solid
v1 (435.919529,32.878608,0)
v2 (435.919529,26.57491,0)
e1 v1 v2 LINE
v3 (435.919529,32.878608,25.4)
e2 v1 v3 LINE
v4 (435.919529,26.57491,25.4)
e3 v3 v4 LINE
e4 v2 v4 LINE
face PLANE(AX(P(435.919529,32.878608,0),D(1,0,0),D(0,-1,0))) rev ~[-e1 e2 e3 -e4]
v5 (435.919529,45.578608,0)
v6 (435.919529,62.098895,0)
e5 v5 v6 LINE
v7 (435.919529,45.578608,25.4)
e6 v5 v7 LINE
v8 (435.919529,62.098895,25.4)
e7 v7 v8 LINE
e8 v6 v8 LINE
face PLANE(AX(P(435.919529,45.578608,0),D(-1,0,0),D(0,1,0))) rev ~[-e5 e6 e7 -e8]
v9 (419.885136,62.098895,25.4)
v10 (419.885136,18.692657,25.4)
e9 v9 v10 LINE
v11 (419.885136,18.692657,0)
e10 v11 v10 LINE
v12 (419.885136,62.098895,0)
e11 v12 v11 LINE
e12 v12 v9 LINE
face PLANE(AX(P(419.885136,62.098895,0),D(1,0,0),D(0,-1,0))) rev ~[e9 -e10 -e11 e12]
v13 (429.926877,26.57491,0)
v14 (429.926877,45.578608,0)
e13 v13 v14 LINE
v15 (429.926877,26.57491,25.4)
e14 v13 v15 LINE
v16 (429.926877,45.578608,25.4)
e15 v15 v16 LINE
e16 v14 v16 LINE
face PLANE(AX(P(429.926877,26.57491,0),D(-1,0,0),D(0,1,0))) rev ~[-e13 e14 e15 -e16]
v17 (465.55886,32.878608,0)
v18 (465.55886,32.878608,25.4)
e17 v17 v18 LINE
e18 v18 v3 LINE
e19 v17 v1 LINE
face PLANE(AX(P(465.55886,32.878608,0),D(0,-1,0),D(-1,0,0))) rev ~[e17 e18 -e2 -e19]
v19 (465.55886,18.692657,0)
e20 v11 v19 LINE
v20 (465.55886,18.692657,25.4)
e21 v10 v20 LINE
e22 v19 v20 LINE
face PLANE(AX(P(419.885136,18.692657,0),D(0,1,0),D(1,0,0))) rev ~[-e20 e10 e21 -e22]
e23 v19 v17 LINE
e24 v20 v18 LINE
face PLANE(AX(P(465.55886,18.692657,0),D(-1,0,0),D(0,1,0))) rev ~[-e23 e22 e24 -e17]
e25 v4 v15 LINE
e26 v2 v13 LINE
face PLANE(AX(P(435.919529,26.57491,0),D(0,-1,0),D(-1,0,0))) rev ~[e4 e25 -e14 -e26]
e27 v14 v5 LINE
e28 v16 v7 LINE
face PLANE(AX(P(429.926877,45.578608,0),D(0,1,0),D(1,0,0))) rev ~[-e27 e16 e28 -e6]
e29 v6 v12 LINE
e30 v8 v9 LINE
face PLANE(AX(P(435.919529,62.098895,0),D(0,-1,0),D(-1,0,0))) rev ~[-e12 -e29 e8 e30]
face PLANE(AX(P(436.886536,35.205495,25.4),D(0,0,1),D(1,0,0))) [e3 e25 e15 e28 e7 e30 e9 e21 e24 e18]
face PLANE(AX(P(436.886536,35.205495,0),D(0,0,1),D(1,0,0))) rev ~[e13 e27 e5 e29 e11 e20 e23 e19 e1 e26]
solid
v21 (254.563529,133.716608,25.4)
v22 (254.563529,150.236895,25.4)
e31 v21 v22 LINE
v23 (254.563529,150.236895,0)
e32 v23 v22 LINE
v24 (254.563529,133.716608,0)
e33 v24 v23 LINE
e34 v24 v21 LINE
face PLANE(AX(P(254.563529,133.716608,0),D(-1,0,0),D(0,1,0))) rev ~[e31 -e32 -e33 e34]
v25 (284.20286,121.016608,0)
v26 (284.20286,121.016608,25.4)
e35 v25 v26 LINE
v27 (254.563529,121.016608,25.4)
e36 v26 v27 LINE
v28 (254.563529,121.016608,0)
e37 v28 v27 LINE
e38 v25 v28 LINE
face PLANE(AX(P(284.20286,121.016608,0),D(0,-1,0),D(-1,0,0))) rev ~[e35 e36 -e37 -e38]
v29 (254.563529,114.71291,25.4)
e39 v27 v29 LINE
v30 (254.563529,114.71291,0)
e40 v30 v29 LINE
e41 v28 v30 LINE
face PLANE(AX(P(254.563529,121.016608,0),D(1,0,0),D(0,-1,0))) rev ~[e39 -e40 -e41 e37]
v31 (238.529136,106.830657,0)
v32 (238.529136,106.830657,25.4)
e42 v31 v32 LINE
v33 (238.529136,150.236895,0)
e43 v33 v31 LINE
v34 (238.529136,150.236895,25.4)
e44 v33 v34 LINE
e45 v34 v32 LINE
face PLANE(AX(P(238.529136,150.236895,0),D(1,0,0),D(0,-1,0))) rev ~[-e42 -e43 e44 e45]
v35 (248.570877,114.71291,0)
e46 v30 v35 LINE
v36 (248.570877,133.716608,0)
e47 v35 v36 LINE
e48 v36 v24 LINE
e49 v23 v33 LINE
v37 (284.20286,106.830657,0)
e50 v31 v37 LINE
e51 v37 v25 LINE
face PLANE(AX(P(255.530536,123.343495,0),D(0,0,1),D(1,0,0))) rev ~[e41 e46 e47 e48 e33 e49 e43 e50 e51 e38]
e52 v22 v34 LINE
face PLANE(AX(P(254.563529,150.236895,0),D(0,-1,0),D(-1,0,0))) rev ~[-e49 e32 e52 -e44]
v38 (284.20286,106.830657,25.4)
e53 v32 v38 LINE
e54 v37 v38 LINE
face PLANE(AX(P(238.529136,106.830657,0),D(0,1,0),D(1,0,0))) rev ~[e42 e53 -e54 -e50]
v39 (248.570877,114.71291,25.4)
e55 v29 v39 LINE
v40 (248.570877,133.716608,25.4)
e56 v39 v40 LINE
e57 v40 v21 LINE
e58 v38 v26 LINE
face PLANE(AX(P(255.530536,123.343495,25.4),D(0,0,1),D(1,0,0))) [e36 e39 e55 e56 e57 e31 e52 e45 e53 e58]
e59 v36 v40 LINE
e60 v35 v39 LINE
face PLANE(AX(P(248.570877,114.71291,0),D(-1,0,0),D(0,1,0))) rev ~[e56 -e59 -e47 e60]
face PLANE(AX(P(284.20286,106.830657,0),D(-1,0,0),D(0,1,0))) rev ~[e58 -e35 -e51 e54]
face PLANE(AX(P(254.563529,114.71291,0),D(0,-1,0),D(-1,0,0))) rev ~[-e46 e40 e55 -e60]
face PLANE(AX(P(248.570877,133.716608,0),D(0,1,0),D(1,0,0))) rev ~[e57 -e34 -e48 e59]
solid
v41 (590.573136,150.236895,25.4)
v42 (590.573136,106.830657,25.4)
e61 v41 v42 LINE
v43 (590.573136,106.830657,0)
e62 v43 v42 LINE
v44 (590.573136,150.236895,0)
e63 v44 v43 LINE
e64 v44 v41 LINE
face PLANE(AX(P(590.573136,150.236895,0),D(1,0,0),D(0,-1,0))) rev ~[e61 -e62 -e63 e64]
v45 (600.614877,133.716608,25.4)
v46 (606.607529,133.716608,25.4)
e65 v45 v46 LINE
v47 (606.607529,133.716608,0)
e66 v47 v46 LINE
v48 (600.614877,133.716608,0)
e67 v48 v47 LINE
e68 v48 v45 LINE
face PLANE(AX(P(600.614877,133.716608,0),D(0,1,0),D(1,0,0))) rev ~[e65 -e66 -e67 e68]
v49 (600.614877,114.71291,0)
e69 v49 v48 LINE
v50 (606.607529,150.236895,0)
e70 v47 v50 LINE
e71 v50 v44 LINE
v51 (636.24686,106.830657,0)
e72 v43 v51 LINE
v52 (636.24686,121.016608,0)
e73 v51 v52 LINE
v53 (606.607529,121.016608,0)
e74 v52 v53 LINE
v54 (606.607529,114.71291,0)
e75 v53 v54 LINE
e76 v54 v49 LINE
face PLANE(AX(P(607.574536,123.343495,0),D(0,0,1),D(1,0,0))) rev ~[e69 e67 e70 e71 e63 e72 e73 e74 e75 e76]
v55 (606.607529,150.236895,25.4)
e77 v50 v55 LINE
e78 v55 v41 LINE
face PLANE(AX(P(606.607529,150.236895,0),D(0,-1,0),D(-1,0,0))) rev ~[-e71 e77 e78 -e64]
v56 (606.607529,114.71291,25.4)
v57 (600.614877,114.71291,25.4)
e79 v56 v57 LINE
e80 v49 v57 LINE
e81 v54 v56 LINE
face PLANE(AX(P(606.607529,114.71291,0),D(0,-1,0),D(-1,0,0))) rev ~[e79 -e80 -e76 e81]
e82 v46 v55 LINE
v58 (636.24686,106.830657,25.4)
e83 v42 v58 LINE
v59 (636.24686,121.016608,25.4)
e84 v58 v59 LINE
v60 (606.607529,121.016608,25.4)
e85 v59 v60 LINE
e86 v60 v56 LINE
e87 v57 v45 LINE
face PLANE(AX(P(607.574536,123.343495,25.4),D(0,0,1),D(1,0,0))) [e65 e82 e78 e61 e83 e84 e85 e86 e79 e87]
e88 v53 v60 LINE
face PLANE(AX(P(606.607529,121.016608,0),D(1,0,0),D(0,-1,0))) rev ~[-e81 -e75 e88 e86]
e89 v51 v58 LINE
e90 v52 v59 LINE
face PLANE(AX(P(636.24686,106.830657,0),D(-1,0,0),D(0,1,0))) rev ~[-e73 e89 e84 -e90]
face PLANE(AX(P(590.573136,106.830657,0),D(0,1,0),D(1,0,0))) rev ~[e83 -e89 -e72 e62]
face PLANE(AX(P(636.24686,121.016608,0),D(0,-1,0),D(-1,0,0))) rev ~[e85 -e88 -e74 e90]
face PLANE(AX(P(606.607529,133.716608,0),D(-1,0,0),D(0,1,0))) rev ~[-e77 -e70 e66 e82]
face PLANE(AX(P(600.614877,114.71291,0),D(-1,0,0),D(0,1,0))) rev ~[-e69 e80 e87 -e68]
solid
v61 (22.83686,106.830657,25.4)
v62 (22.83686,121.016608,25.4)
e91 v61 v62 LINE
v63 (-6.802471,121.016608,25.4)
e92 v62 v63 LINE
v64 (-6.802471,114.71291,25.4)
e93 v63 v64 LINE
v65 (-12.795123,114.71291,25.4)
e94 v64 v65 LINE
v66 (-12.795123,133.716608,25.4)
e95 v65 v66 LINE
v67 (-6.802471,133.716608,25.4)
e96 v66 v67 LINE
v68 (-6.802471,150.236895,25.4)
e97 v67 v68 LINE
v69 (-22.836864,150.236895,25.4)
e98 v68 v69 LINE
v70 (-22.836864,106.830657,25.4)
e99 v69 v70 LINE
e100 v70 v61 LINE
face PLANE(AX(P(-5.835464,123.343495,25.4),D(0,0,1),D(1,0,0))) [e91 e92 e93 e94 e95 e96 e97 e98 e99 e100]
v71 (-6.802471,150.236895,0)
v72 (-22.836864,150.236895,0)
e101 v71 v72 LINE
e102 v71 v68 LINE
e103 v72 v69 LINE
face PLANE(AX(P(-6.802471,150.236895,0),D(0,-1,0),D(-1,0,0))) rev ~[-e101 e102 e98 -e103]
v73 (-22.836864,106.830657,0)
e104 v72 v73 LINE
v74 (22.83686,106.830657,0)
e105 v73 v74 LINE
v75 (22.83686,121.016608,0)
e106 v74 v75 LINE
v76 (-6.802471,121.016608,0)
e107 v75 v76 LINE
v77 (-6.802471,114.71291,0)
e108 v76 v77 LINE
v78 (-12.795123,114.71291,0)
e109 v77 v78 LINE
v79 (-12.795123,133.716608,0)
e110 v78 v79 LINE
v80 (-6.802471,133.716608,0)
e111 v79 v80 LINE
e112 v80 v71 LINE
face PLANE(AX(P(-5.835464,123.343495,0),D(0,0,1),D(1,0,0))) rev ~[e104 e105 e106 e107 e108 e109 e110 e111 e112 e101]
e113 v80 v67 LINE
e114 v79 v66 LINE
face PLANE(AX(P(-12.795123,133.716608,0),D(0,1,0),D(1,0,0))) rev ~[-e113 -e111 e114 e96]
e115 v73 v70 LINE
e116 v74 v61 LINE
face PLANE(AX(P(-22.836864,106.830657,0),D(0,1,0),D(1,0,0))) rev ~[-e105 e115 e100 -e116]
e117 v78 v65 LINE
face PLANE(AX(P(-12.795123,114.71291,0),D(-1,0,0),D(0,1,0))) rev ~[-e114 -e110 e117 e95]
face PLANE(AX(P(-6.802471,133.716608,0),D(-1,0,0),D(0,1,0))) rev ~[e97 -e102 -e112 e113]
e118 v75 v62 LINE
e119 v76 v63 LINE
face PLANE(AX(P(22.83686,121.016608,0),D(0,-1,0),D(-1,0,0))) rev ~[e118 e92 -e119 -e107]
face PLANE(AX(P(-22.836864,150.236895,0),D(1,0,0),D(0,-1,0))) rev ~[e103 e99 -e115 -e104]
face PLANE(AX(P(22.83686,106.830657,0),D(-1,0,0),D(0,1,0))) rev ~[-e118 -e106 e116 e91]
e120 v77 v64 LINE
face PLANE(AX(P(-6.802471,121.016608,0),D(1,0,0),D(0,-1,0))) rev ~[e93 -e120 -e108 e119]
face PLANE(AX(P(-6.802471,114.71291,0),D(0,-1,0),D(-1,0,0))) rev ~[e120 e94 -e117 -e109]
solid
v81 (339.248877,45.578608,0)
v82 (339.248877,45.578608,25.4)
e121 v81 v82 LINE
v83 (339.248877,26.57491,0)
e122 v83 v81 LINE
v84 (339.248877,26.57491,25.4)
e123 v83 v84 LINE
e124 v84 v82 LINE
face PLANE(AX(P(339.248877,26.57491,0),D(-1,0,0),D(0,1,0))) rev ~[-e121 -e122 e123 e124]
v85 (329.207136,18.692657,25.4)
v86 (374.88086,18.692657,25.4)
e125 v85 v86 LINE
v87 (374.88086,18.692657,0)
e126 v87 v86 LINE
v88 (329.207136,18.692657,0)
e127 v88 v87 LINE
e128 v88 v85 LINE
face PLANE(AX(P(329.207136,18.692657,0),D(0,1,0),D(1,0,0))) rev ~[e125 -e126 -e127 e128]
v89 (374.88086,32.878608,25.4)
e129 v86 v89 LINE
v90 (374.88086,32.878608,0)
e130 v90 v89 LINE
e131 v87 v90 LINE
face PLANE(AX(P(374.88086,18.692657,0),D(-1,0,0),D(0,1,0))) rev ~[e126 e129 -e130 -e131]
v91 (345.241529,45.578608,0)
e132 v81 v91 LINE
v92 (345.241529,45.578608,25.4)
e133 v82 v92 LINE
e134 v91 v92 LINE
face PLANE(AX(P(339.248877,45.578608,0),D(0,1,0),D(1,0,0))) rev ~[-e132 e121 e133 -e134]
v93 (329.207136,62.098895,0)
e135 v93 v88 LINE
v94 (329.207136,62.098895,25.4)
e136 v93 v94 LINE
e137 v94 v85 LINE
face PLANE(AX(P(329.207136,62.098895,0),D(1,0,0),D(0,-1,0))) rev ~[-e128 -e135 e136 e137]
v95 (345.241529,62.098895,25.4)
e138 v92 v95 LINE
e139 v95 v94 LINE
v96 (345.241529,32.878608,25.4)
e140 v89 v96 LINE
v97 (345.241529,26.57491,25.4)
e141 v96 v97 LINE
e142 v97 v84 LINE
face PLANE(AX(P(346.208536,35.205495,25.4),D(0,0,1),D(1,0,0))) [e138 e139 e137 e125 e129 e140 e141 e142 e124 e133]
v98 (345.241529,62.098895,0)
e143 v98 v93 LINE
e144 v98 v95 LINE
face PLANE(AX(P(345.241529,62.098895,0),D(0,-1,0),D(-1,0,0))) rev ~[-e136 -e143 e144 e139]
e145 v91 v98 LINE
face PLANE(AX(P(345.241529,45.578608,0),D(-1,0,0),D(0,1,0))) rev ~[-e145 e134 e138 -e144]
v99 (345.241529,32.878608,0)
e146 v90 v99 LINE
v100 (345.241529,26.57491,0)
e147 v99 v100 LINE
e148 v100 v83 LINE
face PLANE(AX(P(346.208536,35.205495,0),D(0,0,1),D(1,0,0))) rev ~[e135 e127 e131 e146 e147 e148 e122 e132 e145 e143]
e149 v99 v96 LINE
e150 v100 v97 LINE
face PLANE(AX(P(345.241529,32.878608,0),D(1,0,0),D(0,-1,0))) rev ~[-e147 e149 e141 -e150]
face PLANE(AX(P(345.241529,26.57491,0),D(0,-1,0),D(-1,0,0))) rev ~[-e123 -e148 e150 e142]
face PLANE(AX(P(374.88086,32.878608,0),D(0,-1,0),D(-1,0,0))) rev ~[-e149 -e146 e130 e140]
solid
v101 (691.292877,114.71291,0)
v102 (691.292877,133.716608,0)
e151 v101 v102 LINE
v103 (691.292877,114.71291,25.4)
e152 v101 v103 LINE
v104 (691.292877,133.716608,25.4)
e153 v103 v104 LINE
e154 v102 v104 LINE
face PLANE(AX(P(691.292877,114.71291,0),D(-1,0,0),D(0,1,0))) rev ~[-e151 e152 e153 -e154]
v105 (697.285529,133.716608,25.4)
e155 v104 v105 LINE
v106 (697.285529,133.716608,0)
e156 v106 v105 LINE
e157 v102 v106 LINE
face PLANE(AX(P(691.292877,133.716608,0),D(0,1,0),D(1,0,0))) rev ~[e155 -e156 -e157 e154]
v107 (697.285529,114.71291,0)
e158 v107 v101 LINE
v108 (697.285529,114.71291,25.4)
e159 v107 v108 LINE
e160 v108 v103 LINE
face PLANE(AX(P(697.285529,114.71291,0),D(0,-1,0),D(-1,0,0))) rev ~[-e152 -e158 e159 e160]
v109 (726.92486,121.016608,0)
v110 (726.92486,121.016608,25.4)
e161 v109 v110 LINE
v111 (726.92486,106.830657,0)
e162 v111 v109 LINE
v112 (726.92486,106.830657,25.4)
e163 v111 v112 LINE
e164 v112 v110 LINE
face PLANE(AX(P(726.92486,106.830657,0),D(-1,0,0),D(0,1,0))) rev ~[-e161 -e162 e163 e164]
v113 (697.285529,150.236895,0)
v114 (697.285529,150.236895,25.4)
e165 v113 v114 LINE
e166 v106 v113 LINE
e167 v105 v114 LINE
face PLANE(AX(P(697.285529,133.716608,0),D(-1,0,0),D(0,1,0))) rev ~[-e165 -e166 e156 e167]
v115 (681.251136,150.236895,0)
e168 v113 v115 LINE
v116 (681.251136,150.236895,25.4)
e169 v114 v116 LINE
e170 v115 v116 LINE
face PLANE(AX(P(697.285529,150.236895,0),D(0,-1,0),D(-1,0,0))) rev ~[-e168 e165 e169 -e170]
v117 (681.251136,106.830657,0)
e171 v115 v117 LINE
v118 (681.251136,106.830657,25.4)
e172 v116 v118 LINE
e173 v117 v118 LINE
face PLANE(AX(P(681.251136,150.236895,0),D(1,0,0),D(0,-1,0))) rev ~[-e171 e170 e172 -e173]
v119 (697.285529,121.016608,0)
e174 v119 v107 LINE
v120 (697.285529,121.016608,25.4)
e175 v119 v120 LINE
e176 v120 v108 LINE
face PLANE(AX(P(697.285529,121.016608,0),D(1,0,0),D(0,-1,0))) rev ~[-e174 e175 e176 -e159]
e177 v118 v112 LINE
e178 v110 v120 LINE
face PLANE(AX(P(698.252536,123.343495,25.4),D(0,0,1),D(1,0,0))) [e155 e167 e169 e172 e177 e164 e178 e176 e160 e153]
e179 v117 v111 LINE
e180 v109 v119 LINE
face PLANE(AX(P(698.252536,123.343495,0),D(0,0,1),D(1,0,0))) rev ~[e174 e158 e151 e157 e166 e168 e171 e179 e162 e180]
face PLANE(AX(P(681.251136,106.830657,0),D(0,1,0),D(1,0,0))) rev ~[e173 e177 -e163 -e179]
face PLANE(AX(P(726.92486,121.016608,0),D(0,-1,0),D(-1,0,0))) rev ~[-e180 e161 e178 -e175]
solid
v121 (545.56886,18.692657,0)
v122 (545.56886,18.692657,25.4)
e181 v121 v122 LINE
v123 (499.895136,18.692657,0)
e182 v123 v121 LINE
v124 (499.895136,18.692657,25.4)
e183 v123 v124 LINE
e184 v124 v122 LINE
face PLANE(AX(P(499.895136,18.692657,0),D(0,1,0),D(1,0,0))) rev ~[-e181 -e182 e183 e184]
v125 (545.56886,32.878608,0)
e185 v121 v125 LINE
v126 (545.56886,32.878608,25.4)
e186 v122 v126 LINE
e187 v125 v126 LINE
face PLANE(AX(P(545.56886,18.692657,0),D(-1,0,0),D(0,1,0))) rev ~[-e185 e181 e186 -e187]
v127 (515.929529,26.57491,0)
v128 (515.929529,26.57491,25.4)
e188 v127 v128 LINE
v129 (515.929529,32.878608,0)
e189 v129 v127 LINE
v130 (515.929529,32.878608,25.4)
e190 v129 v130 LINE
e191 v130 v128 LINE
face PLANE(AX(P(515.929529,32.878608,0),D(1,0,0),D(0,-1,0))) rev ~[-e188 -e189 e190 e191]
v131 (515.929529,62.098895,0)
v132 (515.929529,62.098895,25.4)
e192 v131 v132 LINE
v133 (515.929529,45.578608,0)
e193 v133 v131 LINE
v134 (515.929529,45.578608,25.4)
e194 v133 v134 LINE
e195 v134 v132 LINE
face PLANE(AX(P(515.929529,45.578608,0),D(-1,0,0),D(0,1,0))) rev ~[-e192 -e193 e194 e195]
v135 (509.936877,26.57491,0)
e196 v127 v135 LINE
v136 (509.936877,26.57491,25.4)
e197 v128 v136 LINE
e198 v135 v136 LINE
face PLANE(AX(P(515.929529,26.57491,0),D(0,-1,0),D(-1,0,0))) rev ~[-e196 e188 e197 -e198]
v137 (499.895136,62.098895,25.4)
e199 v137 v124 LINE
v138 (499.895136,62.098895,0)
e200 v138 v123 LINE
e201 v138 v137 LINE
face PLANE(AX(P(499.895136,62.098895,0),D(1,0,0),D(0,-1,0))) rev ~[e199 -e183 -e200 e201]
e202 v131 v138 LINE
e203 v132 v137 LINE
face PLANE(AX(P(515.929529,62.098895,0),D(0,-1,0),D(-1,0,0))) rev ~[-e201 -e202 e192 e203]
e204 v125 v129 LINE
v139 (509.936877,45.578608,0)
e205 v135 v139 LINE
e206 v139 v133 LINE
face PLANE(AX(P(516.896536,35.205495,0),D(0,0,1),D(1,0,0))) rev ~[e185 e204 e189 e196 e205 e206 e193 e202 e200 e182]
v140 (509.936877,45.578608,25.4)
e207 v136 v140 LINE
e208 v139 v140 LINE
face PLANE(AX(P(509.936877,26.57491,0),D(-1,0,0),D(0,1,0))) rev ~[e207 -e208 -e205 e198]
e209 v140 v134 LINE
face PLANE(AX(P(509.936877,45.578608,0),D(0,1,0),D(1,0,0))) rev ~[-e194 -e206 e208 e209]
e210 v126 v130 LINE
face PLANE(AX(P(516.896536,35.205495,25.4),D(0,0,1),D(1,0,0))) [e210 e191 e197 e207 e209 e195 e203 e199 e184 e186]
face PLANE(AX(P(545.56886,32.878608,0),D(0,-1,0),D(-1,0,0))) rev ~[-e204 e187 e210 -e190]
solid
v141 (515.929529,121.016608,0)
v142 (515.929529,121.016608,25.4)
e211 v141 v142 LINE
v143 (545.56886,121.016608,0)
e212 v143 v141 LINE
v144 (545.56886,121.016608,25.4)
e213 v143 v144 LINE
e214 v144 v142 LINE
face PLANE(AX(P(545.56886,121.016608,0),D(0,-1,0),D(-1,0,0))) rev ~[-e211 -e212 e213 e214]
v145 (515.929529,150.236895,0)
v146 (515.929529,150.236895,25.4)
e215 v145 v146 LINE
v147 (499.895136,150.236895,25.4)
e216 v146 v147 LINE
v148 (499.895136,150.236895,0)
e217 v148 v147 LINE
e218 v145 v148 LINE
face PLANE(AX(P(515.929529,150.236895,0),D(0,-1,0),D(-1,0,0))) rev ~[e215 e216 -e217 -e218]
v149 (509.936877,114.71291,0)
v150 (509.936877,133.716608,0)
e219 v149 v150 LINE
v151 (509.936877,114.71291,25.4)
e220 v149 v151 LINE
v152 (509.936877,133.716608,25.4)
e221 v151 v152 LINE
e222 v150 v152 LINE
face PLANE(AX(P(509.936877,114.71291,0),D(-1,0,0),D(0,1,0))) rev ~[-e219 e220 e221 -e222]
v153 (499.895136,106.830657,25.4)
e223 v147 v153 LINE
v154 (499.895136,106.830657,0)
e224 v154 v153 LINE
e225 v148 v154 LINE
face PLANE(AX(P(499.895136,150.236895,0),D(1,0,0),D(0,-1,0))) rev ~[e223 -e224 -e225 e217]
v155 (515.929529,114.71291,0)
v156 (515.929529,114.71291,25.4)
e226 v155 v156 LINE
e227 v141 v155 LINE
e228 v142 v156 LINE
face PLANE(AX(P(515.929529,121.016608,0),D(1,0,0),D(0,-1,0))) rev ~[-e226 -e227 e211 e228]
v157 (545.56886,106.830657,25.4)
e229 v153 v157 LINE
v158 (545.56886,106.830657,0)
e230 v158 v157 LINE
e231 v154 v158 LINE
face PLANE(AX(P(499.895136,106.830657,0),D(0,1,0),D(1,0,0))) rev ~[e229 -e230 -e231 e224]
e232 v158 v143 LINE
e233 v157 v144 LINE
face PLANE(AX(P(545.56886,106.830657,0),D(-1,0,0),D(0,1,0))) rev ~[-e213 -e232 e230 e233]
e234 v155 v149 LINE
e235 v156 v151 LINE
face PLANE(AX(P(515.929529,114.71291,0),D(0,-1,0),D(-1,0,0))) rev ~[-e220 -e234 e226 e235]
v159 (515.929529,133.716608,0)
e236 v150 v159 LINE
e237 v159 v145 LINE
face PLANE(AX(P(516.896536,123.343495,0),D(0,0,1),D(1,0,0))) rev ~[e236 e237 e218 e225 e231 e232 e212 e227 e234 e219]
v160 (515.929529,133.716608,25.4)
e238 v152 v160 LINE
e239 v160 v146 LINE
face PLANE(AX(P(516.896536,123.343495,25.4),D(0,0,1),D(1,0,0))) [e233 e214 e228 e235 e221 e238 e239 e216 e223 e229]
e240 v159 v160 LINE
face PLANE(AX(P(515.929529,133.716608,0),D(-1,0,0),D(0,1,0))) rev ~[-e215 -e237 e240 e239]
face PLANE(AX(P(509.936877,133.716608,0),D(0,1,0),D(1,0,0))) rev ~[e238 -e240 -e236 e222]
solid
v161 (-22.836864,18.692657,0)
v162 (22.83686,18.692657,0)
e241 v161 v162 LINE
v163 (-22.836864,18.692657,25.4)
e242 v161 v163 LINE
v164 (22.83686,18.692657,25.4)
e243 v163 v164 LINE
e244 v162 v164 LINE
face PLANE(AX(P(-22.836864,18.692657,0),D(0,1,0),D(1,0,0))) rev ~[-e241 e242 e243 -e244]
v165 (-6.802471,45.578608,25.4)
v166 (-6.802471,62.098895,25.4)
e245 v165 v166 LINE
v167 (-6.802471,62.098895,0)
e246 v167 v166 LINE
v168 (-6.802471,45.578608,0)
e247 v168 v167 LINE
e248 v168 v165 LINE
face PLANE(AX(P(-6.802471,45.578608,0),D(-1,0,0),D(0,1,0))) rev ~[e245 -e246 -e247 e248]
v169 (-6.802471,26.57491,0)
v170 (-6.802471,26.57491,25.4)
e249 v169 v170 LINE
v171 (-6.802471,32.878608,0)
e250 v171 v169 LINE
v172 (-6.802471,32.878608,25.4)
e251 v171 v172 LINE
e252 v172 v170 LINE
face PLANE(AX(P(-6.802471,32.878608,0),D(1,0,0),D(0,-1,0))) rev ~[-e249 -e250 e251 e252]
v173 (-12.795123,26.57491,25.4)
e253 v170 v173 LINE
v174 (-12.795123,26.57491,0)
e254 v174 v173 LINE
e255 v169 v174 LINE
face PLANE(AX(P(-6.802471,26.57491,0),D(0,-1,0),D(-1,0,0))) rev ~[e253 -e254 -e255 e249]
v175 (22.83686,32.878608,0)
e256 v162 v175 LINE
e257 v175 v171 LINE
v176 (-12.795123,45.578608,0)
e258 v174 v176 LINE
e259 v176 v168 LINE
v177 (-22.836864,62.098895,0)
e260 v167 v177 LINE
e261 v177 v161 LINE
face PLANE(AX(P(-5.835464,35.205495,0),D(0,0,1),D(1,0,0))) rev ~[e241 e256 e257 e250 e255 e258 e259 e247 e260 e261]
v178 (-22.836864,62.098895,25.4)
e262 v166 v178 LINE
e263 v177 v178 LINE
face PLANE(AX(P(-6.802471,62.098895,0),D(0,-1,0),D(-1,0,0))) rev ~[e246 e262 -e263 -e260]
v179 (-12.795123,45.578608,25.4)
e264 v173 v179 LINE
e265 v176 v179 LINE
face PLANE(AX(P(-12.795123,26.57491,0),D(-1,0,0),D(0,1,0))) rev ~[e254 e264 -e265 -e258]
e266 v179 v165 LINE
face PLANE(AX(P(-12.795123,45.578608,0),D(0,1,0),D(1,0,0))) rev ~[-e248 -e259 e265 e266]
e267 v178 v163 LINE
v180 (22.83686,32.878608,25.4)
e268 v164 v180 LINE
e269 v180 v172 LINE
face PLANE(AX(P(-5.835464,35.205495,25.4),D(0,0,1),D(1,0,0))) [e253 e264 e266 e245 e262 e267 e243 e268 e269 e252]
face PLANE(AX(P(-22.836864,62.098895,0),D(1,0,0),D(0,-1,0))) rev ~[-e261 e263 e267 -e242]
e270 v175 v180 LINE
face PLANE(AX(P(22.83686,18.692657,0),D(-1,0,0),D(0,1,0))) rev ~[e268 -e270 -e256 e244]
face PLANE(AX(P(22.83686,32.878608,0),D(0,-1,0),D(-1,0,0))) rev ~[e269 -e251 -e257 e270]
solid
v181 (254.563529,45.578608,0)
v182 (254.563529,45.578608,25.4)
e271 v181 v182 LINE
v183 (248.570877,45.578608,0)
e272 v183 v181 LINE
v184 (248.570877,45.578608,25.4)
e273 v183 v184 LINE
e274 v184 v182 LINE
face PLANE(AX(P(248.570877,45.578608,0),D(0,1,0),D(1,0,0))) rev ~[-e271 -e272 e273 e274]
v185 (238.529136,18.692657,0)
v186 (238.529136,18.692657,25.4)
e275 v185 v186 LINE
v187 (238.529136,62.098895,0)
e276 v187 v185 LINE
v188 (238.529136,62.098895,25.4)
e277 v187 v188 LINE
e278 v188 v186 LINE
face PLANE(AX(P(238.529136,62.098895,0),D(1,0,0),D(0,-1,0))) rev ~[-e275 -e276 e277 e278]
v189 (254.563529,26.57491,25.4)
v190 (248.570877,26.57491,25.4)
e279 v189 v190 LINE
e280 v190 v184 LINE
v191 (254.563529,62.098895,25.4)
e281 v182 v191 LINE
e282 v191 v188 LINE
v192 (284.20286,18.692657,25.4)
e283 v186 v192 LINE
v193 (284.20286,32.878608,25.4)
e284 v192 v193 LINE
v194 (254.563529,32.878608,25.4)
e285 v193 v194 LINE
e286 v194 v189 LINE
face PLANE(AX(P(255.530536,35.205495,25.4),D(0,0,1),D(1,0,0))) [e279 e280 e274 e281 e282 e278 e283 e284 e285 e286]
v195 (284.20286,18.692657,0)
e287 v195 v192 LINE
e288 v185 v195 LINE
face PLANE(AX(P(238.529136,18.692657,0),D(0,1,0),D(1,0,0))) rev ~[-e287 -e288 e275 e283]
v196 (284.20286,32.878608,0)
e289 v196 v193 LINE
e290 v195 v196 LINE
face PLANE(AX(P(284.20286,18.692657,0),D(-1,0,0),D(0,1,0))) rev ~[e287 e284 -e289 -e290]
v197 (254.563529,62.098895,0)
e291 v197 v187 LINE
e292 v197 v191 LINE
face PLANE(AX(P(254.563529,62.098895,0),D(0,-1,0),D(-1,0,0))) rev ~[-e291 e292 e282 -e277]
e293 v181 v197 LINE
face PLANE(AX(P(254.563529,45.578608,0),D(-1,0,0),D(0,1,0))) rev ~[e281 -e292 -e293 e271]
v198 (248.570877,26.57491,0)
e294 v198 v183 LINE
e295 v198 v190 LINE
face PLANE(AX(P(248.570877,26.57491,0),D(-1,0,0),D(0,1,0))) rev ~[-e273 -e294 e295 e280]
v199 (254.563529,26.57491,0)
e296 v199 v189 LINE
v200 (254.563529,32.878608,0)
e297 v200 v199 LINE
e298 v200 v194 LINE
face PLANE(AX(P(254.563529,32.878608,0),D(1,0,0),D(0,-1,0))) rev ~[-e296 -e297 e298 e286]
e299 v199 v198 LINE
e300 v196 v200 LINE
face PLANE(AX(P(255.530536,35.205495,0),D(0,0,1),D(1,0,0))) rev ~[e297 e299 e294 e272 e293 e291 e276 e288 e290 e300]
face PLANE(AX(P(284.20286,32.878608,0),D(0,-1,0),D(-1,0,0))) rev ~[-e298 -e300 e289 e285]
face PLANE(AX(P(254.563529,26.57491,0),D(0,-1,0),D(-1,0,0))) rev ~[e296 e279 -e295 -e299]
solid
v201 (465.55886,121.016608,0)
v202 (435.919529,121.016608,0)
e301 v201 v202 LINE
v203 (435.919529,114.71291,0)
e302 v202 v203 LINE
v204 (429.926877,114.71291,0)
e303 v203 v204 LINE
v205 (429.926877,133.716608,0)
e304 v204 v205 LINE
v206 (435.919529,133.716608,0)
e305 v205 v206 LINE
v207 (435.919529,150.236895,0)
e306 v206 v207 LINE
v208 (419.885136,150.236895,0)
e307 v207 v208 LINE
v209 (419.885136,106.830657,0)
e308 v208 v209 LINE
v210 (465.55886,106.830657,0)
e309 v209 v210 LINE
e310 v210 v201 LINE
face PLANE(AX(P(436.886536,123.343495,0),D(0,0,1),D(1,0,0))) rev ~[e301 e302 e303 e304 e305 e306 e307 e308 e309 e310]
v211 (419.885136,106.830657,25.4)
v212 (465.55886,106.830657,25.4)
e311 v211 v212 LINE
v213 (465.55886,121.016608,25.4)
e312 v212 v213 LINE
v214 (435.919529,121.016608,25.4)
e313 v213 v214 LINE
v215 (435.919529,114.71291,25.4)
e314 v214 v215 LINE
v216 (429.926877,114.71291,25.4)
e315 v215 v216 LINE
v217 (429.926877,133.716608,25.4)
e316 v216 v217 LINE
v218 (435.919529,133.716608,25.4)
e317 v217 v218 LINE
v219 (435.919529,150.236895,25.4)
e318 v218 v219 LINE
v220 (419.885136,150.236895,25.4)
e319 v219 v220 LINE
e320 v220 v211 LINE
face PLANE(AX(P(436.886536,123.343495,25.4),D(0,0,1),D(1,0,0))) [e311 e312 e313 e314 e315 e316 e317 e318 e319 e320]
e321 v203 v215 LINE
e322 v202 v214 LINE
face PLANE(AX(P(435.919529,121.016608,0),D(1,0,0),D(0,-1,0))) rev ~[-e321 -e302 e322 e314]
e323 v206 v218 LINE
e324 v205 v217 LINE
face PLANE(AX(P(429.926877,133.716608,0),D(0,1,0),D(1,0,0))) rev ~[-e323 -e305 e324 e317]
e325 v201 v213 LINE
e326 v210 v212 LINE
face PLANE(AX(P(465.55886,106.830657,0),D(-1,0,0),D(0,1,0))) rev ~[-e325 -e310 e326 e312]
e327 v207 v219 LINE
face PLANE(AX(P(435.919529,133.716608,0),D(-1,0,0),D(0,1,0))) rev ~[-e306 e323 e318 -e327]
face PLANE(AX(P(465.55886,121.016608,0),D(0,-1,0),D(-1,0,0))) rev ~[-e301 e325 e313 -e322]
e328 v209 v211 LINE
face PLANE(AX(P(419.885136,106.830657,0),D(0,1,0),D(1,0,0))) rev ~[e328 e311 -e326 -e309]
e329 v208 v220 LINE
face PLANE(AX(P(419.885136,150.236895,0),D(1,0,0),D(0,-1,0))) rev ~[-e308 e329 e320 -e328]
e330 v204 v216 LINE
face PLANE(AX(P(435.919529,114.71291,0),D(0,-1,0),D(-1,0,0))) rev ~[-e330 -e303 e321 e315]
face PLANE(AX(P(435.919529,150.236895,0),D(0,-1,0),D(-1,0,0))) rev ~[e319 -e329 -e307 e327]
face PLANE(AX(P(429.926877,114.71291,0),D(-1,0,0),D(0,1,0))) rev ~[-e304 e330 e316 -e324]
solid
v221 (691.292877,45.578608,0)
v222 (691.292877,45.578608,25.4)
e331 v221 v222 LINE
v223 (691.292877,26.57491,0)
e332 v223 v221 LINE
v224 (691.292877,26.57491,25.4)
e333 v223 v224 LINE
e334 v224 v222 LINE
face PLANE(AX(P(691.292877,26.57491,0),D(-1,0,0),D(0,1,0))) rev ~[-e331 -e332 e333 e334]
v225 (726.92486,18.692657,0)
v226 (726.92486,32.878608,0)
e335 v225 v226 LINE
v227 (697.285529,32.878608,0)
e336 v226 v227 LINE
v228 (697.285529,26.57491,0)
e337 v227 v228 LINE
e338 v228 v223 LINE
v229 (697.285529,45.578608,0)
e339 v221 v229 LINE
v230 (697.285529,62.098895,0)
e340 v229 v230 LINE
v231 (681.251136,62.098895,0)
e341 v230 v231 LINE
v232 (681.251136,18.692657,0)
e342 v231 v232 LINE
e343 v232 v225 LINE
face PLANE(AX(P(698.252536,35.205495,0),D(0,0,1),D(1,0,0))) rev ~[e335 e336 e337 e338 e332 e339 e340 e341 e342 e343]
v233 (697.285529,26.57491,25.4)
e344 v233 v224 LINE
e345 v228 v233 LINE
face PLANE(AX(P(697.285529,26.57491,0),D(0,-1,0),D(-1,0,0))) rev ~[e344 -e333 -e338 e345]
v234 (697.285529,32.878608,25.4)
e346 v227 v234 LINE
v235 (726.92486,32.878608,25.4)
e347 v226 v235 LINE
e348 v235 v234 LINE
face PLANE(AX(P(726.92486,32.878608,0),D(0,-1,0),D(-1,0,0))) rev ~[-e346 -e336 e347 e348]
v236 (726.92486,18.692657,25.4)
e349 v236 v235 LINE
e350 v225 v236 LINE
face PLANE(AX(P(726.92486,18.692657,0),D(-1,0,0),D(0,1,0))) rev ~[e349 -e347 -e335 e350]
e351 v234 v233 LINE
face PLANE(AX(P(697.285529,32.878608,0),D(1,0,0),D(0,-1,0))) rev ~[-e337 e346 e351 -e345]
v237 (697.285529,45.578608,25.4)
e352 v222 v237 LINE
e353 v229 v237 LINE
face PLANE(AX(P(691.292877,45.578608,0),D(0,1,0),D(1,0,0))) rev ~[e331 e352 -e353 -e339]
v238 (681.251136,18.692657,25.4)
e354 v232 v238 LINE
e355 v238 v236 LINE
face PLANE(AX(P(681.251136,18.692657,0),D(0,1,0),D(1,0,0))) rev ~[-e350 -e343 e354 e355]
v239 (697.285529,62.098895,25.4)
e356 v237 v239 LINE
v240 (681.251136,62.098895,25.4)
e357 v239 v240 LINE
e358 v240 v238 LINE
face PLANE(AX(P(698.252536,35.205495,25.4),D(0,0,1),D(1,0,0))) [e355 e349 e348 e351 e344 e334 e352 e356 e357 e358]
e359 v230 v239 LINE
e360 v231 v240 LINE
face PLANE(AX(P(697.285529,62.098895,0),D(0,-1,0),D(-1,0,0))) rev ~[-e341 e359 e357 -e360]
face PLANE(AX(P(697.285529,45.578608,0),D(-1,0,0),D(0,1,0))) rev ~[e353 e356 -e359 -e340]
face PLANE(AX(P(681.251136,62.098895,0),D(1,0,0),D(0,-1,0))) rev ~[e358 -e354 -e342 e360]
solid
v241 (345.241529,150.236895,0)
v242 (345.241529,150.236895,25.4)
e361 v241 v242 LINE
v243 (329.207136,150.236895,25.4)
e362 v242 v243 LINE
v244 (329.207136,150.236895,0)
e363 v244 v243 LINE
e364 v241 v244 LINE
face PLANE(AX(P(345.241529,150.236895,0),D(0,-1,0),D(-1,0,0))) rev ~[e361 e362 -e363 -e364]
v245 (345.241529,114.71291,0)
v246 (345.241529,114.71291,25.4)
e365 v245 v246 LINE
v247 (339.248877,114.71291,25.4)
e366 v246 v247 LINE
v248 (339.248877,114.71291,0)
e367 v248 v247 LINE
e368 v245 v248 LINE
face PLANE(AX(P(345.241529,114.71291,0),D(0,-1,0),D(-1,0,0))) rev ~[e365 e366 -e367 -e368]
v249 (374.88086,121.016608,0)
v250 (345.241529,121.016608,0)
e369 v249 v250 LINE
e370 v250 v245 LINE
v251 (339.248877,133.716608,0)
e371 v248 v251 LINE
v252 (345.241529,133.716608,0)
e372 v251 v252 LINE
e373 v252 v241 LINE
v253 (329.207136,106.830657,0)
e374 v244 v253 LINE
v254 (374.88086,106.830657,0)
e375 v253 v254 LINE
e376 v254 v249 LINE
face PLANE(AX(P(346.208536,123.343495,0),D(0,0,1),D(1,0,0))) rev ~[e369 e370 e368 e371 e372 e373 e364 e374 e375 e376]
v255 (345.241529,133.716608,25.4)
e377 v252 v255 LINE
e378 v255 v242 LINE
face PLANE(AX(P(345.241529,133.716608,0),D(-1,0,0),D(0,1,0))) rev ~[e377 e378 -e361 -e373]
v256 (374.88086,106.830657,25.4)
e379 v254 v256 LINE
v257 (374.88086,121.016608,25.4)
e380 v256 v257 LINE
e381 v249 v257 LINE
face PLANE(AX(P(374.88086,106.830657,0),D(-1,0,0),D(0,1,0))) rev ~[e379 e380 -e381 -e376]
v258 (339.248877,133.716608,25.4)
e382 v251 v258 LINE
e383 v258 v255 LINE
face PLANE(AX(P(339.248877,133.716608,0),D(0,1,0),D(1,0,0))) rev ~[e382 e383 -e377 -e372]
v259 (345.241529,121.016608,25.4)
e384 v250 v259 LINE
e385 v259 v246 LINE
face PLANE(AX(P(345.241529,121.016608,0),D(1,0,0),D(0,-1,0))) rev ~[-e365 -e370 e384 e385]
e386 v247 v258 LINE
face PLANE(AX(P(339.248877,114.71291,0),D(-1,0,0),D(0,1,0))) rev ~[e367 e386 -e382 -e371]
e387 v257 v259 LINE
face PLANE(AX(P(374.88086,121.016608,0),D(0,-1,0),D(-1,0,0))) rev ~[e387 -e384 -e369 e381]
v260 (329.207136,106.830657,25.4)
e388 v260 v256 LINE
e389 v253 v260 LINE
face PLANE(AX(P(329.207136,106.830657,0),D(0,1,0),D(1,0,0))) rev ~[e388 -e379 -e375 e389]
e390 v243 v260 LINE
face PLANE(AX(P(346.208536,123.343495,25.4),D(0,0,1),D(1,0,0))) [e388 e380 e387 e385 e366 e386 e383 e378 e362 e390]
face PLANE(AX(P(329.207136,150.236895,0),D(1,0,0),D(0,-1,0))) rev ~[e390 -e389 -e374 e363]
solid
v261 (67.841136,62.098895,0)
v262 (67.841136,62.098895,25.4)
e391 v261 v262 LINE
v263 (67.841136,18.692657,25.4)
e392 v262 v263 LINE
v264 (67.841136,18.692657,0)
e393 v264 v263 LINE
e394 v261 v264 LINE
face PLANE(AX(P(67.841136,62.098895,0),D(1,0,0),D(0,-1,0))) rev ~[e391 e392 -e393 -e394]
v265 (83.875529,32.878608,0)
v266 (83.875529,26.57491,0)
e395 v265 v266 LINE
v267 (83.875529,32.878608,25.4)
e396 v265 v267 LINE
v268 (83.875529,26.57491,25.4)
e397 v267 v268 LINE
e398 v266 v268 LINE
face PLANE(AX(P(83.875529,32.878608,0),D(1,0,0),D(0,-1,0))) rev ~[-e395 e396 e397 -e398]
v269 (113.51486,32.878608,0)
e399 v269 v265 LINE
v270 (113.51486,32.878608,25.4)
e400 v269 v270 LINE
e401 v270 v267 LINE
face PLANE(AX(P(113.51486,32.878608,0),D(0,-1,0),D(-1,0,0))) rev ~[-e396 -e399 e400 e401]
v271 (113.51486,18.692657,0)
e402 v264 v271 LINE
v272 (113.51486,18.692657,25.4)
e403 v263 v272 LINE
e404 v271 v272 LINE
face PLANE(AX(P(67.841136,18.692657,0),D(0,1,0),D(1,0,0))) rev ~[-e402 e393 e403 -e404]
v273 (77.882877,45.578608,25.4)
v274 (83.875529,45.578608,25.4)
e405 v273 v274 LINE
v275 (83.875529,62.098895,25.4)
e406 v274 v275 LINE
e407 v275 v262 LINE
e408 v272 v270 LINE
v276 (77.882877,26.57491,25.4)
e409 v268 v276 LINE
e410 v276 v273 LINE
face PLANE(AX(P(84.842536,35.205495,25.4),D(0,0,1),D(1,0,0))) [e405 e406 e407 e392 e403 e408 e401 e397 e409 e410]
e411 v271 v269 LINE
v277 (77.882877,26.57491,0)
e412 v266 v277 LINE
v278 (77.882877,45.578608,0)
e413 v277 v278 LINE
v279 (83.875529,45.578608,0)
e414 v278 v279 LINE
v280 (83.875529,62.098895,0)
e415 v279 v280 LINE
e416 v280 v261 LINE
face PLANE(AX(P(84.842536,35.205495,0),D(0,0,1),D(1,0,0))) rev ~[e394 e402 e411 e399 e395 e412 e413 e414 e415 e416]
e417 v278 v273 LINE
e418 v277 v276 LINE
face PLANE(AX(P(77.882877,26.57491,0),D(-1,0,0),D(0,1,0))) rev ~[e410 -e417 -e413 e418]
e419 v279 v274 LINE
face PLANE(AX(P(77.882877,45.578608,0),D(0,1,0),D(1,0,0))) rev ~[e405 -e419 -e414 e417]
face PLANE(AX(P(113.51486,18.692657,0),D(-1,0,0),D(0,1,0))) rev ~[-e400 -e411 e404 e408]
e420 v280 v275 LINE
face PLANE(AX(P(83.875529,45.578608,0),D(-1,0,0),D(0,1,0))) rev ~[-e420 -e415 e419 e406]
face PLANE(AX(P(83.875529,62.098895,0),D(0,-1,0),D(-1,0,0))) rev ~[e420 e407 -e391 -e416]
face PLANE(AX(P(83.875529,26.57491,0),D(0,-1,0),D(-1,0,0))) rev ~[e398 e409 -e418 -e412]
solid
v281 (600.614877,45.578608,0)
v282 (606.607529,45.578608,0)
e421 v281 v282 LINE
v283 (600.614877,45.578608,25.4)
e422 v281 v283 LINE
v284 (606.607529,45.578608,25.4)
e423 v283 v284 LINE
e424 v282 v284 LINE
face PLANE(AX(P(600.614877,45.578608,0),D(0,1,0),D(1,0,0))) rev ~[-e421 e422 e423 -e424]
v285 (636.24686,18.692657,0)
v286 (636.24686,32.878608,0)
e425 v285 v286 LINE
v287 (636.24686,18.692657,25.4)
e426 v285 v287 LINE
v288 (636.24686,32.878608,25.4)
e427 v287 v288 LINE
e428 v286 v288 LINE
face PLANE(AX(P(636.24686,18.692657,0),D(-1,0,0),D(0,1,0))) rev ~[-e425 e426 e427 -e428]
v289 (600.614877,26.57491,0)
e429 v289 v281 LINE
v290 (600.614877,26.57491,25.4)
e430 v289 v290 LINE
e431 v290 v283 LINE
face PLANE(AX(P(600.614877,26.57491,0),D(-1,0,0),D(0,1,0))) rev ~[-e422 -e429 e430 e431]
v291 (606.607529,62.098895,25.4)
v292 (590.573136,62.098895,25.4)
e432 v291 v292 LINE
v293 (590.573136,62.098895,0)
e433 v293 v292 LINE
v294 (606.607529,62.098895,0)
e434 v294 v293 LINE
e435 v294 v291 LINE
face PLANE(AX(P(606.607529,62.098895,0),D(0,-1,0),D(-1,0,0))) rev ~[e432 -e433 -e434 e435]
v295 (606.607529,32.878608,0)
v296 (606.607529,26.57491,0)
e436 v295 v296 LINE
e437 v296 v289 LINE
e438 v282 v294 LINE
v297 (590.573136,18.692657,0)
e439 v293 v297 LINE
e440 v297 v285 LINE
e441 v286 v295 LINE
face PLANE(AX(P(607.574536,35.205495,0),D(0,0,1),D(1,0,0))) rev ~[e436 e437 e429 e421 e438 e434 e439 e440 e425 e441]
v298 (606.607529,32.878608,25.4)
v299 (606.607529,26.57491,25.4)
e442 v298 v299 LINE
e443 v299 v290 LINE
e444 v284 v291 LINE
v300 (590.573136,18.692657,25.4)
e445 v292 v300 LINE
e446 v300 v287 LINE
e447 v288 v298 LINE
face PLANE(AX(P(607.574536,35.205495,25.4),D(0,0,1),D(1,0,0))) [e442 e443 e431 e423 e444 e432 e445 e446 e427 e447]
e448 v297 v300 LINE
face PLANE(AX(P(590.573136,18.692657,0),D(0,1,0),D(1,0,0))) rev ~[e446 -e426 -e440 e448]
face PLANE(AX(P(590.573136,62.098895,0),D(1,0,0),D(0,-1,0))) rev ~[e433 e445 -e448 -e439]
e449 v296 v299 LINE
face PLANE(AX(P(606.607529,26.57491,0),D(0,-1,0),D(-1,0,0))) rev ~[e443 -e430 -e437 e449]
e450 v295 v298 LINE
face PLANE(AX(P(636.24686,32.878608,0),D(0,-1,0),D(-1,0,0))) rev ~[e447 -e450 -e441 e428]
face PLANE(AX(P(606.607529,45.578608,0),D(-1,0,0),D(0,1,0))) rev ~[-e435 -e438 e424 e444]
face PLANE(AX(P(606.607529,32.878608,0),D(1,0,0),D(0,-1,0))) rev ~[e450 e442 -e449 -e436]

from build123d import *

# Parameters (mm, degrees)
F1_DEPTH = 25.4


with BuildPart() as f1:
    # F0 (on Top) → F1 (new body)
    with BuildSketch(Plane.XY):
        Polygon((-6.8024713546, 45.5786075115), (-6.8024713546, 62.0988953531), (-22.8368639946, 62.0988953531), (-22.8368639946, 18.6926565737), (22.8368602693, 18.6926565737), (22.8368602693, 32.8786075115), (-6.8024713546, 32.8786075115), (-6.8024713546, 26.574909687), (-12.7951232716, 26.574909687), (-12.7951232716, 32.8786075115), (-12.7951232716, 45.5786075115), align=None)
    extrude(amount=F1_DEPTH)


with BuildPart() as f1b:
    # F0 (on Top) → F1, piece 2 (new body)
    with BuildSketch(Plane.XY):
        Polygon((-6.8024713546, 133.7166075115), (-6.8024713546, 150.2368953531), (-22.8368639946, 150.2368953531), (-22.8368639946, 106.8306565737), (22.8368602693, 106.8306565737), (22.8368602693, 121.0166075115), (-6.8024713546, 121.0166075115), (-6.8024713546, 114.712909687), (-12.7951232716, 114.712909687), (-12.7951232716, 121.0166075115), (-12.7951232716, 133.7166075115), align=None)
    extrude(amount=F1_DEPTH)


with BuildPart() as f1c:
    # F0 (on Top) → F1, piece 3 (new body)
    with BuildSketch(Plane.XY):
        Polygon((83.8755286454, 45.5786075115), (83.8755286454, 62.0988953531), (67.8411360054, 62.0988953531), (67.8411360054, 18.6926565737), (113.5148602693, 18.6926565737), (113.5148602693, 32.8786075115), (83.8755286454, 32.8786075115), (83.8755286454, 26.574909687), (77.8828767284, 26.574909687), (77.8828767284, 32.8786075115), (77.8828767284, 45.5786075115), align=None)
    extrude(amount=F1_DEPTH)


with BuildPart() as f1d:
    # F0 (on Top) → F1, piece 4 (new body)
    with BuildSketch(Plane.XY):
        Polygon((83.8755286454, 133.7166075115), (83.8755286454, 150.2368953531), (67.8411360054, 150.2368953531), (67.8411360054, 106.8306565737), (113.5148602693, 106.8306565737), (113.5148602693, 121.0166075115), (83.8755286454, 121.0166075115), (83.8755286454, 114.712909687), (77.8828767284, 114.712909687), (77.8828767284, 121.0166075115), (77.8828767284, 133.7166075115), align=None)
    extrude(amount=F1_DEPTH)


with BuildPart() as f1e:
    # F0 (on Top) → F1, piece 5 (new body)
    with BuildSketch(Plane.XY):
        Polygon((174.5535286454, 45.5786075115), (174.5535286454, 62.0988953531), (158.5191360054, 62.0988953531), (158.5191360054, 18.6926565737), (204.1928602693, 18.6926565737), (204.1928602693, 32.8786075115), (174.5535286454, 32.8786075115), (174.5535286454, 26.574909687), (168.5608767284, 26.574909687), (168.5608767284, 32.8786075115), (168.5608767284, 45.5786075115), align=None)
    extrude(amount=F1_DEPTH)


with BuildPart() as f1f:
    # F0 (on Top) → F1, piece 6 (new body)
    with BuildSketch(Plane.XY):
        Polygon((174.5535286454, 133.7166075115), (174.5535286454, 150.2368953531), (158.5191360054, 150.2368953531), (158.5191360054, 106.8306565737), (204.1928602693, 106.8306565737), (204.1928602693, 121.0166075115), (174.5535286454, 121.0166075115), (174.5535286454, 114.712909687), (168.5608767284, 114.712909687), (168.5608767284, 121.0166075115), (168.5608767284, 133.7166075115), align=None)
    extrude(amount=F1_DEPTH)


with BuildPart() as f1g:
    # F0 (on Top) → F1, piece 7 (new body)
    with BuildSketch(Plane.XY):
        Polygon((465.5588602693, 121.0166075115), (435.9195286454, 121.0166075115), (435.9195286454, 114.712909687), (429.9268767284, 114.712909687), (429.9268767284, 121.0166075115), (429.9268767284, 133.7166075115), (435.9195286454, 133.7166075115), (435.9195286454, 150.2368953531), (419.8851360054, 150.2368953531), (419.8851360054, 106.8306565737), (465.5588602693, 106.8306565737), align=None)
    extrude(amount=F1_DEPTH)


with BuildPart() as f1h:
    # F0 (on Top) → F1, piece 8 (new body)
    with BuildSketch(Plane.XY):
        Polygon((284.2028602693, 32.8786075115), (254.5635286454, 32.8786075115), (254.5635286454, 26.574909687), (248.5708767284, 26.574909687), (248.5708767284, 32.8786075115), (248.5708767284, 45.5786075115), (254.5635286454, 45.5786075115), (254.5635286454, 62.0988953531), (238.5291360054, 62.0988953531), (238.5291360054, 18.6926565737), (284.2028602693, 18.6926565737), align=None)
    extrude(amount=F1_DEPTH)


with BuildPart() as f1i:
    # F0 (on Top) → F1, piece 9 (new body)
    with BuildSketch(Plane.XY):
        Polygon((374.8808602693, 32.8786075115), (345.2415286454, 32.8786075115), (345.2415286454, 26.574909687), (339.2488767284, 26.574909687), (339.2488767284, 32.8786075115), (339.2488767284, 45.5786075115), (345.2415286454, 45.5786075115), (345.2415286454, 62.0988953531), (329.2071360054, 62.0988953531), (329.2071360054, 18.6926565737), (374.8808602693, 18.6926565737), align=None)
    extrude(amount=F1_DEPTH)


with BuildPart() as f1j:
    # F0 (on Top) → F1, piece 10 (new body)
    with BuildSketch(Plane.XY):
        Polygon((284.2028602693, 106.8306565737), (284.2028602693, 121.0166075115), (254.5635286454, 121.0166075115), (254.5635286454, 114.712909687), (248.5708767284, 114.712909687), (248.5708767284, 121.0166075115), (248.5708767284, 133.7166075115), (254.5635286454, 133.7166075115), (254.5635286454, 150.2368953531), (238.5291360054, 150.2368953531), (238.5291360054, 106.8306565737), align=None)
    extrude(amount=F1_DEPTH)


with BuildPart() as f1k:
    # F0 (on Top) → F1, piece 11 (new body)
    with BuildSketch(Plane.XY):
        Polygon((465.5588602693, 18.6926565737), (465.5588602693, 32.8786075115), (435.9195286454, 32.8786075115), (435.9195286454, 26.574909687), (429.9268767284, 26.574909687), (429.9268767284, 32.8786075115), (429.9268767284, 45.5786075115), (435.9195286454, 45.5786075115), (435.9195286454, 62.0988953531), (419.8851360054, 62.0988953531), (419.8851360054, 18.6926565737), align=None)
    extrude(amount=F1_DEPTH)


with BuildPart() as f1l:
    # F0 (on Top) → F1, piece 12 (new body)
    with BuildSketch(Plane.XY):
        Polygon((345.2415286454, 150.2368953531), (329.2071360054, 150.2368953531), (329.2071360054, 106.8306565737), (374.8808602693, 106.8306565737), (374.8808602693, 121.0166075115), (345.2415286454, 121.0166075115), (345.2415286454, 114.712909687), (339.2488767284, 114.712909687), (339.2488767284, 121.0166075115), (339.2488767284, 133.7166075115), (345.2415286454, 133.7166075115), align=None)
    extrude(amount=F1_DEPTH)


with BuildPart() as f1m:
    # F0 (on Top) → F1, piece 13 (new body)
    with BuildSketch(Plane.XY):
        Polygon((726.9248602693, 121.0166075115), (697.2855286454, 121.0166075115), (697.2855286454, 114.712909687), (691.2928767284, 114.712909687), (691.2928767284, 121.0166075115), (691.2928767284, 133.7166075115), (697.2855286454, 133.7166075115), (697.2855286454, 150.2368953531), (681.2511360054, 150.2368953531), (681.2511360054, 106.8306565737), (726.9248602693, 106.8306565737), align=None)
    extrude(amount=F1_DEPTH)


with BuildPart() as f1n:
    # F0 (on Top) → F1, piece 14 (new body)
    with BuildSketch(Plane.XY):
        Polygon((545.5688602693, 32.8786075115), (515.9295286454, 32.8786075115), (515.9295286454, 26.574909687), (509.9368767284, 26.574909687), (509.9368767284, 32.8786075115), (509.9368767284, 45.5786075115), (515.9295286454, 45.5786075115), (515.9295286454, 62.0988953531), (499.8951360054, 62.0988953531), (499.8951360054, 18.6926565737), (545.5688602693, 18.6926565737), align=None)
    extrude(amount=F1_DEPTH)


with BuildPart() as f1o:
    # F0 (on Top) → F1, piece 15 (new body)
    with BuildSketch(Plane.XY):
        Polygon((636.2468602693, 32.8786075115), (606.6075286454, 32.8786075115), (606.6075286454, 26.574909687), (600.6148767284, 26.574909687), (600.6148767284, 32.8786075115), (600.6148767284, 45.5786075115), (606.6075286454, 45.5786075115), (606.6075286454, 62.0988953531), (590.5731360054, 62.0988953531), (590.5731360054, 18.6926565737), (636.2468602693, 18.6926565737), align=None)
    extrude(amount=F1_DEPTH)


with BuildPart() as f1p:
    # F0 (on Top) → F1, piece 16 (new body)
    with BuildSketch(Plane.XY):
        Polygon((545.5688602693, 106.8306565737), (545.5688602693, 121.0166075115), (515.9295286454, 121.0166075115), (515.9295286454, 114.712909687), (509.9368767284, 114.712909687), (509.9368767284, 121.0166075115), (509.9368767284, 133.7166075115), (515.9295286454, 133.7166075115), (515.9295286454, 150.2368953531), (499.8951360054, 150.2368953531), (499.8951360054, 106.8306565737), align=None)
    extrude(amount=F1_DEPTH)


with BuildPart() as f1q:
    # F0 (on Top) → F1, piece 17 (new body)
    with BuildSketch(Plane.XY):
        Polygon((726.9248602693, 18.6926565737), (726.9248602693, 32.8786075115), (697.2855286454, 32.8786075115), (697.2855286454, 26.574909687), (691.2928767284, 26.574909687), (691.2928767284, 32.8786075115), (691.2928767284, 45.5786075115), (697.2855286454, 45.5786075115), (697.2855286454, 62.0988953531), (681.2511360054, 62.0988953531), (681.2511360054, 18.6926565737), align=None)
    extrude(amount=F1_DEPTH)


with BuildPart() as f1r:
    # F0 (on Top) → F1, piece 18 (new body)
    with BuildSketch(Plane.XY):
        Polygon((606.6075286454, 150.2368953531), (590.5731360054, 150.2368953531), (590.5731360054, 106.8306565737), (636.2468602693, 106.8306565737), (636.2468602693, 121.0166075115), (606.6075286454, 121.0166075115), (606.6075286454, 114.712909687), (600.6148767284, 114.712909687), (600.6148767284, 121.0166075115), (600.6148767284, 133.7166075115), (606.6075286454, 133.7166075115), align=None)
    extrude(amount=F1_DEPTH)


solid = Compound([f1.part, f1b.part, f1c.part, f1g.part, f1h.part, f1i.part, f1j.part, f1k.part, f1l.part, f1m.part, f1n.part, f1o.part, f1p.part, f1q.part, f1r.part])
